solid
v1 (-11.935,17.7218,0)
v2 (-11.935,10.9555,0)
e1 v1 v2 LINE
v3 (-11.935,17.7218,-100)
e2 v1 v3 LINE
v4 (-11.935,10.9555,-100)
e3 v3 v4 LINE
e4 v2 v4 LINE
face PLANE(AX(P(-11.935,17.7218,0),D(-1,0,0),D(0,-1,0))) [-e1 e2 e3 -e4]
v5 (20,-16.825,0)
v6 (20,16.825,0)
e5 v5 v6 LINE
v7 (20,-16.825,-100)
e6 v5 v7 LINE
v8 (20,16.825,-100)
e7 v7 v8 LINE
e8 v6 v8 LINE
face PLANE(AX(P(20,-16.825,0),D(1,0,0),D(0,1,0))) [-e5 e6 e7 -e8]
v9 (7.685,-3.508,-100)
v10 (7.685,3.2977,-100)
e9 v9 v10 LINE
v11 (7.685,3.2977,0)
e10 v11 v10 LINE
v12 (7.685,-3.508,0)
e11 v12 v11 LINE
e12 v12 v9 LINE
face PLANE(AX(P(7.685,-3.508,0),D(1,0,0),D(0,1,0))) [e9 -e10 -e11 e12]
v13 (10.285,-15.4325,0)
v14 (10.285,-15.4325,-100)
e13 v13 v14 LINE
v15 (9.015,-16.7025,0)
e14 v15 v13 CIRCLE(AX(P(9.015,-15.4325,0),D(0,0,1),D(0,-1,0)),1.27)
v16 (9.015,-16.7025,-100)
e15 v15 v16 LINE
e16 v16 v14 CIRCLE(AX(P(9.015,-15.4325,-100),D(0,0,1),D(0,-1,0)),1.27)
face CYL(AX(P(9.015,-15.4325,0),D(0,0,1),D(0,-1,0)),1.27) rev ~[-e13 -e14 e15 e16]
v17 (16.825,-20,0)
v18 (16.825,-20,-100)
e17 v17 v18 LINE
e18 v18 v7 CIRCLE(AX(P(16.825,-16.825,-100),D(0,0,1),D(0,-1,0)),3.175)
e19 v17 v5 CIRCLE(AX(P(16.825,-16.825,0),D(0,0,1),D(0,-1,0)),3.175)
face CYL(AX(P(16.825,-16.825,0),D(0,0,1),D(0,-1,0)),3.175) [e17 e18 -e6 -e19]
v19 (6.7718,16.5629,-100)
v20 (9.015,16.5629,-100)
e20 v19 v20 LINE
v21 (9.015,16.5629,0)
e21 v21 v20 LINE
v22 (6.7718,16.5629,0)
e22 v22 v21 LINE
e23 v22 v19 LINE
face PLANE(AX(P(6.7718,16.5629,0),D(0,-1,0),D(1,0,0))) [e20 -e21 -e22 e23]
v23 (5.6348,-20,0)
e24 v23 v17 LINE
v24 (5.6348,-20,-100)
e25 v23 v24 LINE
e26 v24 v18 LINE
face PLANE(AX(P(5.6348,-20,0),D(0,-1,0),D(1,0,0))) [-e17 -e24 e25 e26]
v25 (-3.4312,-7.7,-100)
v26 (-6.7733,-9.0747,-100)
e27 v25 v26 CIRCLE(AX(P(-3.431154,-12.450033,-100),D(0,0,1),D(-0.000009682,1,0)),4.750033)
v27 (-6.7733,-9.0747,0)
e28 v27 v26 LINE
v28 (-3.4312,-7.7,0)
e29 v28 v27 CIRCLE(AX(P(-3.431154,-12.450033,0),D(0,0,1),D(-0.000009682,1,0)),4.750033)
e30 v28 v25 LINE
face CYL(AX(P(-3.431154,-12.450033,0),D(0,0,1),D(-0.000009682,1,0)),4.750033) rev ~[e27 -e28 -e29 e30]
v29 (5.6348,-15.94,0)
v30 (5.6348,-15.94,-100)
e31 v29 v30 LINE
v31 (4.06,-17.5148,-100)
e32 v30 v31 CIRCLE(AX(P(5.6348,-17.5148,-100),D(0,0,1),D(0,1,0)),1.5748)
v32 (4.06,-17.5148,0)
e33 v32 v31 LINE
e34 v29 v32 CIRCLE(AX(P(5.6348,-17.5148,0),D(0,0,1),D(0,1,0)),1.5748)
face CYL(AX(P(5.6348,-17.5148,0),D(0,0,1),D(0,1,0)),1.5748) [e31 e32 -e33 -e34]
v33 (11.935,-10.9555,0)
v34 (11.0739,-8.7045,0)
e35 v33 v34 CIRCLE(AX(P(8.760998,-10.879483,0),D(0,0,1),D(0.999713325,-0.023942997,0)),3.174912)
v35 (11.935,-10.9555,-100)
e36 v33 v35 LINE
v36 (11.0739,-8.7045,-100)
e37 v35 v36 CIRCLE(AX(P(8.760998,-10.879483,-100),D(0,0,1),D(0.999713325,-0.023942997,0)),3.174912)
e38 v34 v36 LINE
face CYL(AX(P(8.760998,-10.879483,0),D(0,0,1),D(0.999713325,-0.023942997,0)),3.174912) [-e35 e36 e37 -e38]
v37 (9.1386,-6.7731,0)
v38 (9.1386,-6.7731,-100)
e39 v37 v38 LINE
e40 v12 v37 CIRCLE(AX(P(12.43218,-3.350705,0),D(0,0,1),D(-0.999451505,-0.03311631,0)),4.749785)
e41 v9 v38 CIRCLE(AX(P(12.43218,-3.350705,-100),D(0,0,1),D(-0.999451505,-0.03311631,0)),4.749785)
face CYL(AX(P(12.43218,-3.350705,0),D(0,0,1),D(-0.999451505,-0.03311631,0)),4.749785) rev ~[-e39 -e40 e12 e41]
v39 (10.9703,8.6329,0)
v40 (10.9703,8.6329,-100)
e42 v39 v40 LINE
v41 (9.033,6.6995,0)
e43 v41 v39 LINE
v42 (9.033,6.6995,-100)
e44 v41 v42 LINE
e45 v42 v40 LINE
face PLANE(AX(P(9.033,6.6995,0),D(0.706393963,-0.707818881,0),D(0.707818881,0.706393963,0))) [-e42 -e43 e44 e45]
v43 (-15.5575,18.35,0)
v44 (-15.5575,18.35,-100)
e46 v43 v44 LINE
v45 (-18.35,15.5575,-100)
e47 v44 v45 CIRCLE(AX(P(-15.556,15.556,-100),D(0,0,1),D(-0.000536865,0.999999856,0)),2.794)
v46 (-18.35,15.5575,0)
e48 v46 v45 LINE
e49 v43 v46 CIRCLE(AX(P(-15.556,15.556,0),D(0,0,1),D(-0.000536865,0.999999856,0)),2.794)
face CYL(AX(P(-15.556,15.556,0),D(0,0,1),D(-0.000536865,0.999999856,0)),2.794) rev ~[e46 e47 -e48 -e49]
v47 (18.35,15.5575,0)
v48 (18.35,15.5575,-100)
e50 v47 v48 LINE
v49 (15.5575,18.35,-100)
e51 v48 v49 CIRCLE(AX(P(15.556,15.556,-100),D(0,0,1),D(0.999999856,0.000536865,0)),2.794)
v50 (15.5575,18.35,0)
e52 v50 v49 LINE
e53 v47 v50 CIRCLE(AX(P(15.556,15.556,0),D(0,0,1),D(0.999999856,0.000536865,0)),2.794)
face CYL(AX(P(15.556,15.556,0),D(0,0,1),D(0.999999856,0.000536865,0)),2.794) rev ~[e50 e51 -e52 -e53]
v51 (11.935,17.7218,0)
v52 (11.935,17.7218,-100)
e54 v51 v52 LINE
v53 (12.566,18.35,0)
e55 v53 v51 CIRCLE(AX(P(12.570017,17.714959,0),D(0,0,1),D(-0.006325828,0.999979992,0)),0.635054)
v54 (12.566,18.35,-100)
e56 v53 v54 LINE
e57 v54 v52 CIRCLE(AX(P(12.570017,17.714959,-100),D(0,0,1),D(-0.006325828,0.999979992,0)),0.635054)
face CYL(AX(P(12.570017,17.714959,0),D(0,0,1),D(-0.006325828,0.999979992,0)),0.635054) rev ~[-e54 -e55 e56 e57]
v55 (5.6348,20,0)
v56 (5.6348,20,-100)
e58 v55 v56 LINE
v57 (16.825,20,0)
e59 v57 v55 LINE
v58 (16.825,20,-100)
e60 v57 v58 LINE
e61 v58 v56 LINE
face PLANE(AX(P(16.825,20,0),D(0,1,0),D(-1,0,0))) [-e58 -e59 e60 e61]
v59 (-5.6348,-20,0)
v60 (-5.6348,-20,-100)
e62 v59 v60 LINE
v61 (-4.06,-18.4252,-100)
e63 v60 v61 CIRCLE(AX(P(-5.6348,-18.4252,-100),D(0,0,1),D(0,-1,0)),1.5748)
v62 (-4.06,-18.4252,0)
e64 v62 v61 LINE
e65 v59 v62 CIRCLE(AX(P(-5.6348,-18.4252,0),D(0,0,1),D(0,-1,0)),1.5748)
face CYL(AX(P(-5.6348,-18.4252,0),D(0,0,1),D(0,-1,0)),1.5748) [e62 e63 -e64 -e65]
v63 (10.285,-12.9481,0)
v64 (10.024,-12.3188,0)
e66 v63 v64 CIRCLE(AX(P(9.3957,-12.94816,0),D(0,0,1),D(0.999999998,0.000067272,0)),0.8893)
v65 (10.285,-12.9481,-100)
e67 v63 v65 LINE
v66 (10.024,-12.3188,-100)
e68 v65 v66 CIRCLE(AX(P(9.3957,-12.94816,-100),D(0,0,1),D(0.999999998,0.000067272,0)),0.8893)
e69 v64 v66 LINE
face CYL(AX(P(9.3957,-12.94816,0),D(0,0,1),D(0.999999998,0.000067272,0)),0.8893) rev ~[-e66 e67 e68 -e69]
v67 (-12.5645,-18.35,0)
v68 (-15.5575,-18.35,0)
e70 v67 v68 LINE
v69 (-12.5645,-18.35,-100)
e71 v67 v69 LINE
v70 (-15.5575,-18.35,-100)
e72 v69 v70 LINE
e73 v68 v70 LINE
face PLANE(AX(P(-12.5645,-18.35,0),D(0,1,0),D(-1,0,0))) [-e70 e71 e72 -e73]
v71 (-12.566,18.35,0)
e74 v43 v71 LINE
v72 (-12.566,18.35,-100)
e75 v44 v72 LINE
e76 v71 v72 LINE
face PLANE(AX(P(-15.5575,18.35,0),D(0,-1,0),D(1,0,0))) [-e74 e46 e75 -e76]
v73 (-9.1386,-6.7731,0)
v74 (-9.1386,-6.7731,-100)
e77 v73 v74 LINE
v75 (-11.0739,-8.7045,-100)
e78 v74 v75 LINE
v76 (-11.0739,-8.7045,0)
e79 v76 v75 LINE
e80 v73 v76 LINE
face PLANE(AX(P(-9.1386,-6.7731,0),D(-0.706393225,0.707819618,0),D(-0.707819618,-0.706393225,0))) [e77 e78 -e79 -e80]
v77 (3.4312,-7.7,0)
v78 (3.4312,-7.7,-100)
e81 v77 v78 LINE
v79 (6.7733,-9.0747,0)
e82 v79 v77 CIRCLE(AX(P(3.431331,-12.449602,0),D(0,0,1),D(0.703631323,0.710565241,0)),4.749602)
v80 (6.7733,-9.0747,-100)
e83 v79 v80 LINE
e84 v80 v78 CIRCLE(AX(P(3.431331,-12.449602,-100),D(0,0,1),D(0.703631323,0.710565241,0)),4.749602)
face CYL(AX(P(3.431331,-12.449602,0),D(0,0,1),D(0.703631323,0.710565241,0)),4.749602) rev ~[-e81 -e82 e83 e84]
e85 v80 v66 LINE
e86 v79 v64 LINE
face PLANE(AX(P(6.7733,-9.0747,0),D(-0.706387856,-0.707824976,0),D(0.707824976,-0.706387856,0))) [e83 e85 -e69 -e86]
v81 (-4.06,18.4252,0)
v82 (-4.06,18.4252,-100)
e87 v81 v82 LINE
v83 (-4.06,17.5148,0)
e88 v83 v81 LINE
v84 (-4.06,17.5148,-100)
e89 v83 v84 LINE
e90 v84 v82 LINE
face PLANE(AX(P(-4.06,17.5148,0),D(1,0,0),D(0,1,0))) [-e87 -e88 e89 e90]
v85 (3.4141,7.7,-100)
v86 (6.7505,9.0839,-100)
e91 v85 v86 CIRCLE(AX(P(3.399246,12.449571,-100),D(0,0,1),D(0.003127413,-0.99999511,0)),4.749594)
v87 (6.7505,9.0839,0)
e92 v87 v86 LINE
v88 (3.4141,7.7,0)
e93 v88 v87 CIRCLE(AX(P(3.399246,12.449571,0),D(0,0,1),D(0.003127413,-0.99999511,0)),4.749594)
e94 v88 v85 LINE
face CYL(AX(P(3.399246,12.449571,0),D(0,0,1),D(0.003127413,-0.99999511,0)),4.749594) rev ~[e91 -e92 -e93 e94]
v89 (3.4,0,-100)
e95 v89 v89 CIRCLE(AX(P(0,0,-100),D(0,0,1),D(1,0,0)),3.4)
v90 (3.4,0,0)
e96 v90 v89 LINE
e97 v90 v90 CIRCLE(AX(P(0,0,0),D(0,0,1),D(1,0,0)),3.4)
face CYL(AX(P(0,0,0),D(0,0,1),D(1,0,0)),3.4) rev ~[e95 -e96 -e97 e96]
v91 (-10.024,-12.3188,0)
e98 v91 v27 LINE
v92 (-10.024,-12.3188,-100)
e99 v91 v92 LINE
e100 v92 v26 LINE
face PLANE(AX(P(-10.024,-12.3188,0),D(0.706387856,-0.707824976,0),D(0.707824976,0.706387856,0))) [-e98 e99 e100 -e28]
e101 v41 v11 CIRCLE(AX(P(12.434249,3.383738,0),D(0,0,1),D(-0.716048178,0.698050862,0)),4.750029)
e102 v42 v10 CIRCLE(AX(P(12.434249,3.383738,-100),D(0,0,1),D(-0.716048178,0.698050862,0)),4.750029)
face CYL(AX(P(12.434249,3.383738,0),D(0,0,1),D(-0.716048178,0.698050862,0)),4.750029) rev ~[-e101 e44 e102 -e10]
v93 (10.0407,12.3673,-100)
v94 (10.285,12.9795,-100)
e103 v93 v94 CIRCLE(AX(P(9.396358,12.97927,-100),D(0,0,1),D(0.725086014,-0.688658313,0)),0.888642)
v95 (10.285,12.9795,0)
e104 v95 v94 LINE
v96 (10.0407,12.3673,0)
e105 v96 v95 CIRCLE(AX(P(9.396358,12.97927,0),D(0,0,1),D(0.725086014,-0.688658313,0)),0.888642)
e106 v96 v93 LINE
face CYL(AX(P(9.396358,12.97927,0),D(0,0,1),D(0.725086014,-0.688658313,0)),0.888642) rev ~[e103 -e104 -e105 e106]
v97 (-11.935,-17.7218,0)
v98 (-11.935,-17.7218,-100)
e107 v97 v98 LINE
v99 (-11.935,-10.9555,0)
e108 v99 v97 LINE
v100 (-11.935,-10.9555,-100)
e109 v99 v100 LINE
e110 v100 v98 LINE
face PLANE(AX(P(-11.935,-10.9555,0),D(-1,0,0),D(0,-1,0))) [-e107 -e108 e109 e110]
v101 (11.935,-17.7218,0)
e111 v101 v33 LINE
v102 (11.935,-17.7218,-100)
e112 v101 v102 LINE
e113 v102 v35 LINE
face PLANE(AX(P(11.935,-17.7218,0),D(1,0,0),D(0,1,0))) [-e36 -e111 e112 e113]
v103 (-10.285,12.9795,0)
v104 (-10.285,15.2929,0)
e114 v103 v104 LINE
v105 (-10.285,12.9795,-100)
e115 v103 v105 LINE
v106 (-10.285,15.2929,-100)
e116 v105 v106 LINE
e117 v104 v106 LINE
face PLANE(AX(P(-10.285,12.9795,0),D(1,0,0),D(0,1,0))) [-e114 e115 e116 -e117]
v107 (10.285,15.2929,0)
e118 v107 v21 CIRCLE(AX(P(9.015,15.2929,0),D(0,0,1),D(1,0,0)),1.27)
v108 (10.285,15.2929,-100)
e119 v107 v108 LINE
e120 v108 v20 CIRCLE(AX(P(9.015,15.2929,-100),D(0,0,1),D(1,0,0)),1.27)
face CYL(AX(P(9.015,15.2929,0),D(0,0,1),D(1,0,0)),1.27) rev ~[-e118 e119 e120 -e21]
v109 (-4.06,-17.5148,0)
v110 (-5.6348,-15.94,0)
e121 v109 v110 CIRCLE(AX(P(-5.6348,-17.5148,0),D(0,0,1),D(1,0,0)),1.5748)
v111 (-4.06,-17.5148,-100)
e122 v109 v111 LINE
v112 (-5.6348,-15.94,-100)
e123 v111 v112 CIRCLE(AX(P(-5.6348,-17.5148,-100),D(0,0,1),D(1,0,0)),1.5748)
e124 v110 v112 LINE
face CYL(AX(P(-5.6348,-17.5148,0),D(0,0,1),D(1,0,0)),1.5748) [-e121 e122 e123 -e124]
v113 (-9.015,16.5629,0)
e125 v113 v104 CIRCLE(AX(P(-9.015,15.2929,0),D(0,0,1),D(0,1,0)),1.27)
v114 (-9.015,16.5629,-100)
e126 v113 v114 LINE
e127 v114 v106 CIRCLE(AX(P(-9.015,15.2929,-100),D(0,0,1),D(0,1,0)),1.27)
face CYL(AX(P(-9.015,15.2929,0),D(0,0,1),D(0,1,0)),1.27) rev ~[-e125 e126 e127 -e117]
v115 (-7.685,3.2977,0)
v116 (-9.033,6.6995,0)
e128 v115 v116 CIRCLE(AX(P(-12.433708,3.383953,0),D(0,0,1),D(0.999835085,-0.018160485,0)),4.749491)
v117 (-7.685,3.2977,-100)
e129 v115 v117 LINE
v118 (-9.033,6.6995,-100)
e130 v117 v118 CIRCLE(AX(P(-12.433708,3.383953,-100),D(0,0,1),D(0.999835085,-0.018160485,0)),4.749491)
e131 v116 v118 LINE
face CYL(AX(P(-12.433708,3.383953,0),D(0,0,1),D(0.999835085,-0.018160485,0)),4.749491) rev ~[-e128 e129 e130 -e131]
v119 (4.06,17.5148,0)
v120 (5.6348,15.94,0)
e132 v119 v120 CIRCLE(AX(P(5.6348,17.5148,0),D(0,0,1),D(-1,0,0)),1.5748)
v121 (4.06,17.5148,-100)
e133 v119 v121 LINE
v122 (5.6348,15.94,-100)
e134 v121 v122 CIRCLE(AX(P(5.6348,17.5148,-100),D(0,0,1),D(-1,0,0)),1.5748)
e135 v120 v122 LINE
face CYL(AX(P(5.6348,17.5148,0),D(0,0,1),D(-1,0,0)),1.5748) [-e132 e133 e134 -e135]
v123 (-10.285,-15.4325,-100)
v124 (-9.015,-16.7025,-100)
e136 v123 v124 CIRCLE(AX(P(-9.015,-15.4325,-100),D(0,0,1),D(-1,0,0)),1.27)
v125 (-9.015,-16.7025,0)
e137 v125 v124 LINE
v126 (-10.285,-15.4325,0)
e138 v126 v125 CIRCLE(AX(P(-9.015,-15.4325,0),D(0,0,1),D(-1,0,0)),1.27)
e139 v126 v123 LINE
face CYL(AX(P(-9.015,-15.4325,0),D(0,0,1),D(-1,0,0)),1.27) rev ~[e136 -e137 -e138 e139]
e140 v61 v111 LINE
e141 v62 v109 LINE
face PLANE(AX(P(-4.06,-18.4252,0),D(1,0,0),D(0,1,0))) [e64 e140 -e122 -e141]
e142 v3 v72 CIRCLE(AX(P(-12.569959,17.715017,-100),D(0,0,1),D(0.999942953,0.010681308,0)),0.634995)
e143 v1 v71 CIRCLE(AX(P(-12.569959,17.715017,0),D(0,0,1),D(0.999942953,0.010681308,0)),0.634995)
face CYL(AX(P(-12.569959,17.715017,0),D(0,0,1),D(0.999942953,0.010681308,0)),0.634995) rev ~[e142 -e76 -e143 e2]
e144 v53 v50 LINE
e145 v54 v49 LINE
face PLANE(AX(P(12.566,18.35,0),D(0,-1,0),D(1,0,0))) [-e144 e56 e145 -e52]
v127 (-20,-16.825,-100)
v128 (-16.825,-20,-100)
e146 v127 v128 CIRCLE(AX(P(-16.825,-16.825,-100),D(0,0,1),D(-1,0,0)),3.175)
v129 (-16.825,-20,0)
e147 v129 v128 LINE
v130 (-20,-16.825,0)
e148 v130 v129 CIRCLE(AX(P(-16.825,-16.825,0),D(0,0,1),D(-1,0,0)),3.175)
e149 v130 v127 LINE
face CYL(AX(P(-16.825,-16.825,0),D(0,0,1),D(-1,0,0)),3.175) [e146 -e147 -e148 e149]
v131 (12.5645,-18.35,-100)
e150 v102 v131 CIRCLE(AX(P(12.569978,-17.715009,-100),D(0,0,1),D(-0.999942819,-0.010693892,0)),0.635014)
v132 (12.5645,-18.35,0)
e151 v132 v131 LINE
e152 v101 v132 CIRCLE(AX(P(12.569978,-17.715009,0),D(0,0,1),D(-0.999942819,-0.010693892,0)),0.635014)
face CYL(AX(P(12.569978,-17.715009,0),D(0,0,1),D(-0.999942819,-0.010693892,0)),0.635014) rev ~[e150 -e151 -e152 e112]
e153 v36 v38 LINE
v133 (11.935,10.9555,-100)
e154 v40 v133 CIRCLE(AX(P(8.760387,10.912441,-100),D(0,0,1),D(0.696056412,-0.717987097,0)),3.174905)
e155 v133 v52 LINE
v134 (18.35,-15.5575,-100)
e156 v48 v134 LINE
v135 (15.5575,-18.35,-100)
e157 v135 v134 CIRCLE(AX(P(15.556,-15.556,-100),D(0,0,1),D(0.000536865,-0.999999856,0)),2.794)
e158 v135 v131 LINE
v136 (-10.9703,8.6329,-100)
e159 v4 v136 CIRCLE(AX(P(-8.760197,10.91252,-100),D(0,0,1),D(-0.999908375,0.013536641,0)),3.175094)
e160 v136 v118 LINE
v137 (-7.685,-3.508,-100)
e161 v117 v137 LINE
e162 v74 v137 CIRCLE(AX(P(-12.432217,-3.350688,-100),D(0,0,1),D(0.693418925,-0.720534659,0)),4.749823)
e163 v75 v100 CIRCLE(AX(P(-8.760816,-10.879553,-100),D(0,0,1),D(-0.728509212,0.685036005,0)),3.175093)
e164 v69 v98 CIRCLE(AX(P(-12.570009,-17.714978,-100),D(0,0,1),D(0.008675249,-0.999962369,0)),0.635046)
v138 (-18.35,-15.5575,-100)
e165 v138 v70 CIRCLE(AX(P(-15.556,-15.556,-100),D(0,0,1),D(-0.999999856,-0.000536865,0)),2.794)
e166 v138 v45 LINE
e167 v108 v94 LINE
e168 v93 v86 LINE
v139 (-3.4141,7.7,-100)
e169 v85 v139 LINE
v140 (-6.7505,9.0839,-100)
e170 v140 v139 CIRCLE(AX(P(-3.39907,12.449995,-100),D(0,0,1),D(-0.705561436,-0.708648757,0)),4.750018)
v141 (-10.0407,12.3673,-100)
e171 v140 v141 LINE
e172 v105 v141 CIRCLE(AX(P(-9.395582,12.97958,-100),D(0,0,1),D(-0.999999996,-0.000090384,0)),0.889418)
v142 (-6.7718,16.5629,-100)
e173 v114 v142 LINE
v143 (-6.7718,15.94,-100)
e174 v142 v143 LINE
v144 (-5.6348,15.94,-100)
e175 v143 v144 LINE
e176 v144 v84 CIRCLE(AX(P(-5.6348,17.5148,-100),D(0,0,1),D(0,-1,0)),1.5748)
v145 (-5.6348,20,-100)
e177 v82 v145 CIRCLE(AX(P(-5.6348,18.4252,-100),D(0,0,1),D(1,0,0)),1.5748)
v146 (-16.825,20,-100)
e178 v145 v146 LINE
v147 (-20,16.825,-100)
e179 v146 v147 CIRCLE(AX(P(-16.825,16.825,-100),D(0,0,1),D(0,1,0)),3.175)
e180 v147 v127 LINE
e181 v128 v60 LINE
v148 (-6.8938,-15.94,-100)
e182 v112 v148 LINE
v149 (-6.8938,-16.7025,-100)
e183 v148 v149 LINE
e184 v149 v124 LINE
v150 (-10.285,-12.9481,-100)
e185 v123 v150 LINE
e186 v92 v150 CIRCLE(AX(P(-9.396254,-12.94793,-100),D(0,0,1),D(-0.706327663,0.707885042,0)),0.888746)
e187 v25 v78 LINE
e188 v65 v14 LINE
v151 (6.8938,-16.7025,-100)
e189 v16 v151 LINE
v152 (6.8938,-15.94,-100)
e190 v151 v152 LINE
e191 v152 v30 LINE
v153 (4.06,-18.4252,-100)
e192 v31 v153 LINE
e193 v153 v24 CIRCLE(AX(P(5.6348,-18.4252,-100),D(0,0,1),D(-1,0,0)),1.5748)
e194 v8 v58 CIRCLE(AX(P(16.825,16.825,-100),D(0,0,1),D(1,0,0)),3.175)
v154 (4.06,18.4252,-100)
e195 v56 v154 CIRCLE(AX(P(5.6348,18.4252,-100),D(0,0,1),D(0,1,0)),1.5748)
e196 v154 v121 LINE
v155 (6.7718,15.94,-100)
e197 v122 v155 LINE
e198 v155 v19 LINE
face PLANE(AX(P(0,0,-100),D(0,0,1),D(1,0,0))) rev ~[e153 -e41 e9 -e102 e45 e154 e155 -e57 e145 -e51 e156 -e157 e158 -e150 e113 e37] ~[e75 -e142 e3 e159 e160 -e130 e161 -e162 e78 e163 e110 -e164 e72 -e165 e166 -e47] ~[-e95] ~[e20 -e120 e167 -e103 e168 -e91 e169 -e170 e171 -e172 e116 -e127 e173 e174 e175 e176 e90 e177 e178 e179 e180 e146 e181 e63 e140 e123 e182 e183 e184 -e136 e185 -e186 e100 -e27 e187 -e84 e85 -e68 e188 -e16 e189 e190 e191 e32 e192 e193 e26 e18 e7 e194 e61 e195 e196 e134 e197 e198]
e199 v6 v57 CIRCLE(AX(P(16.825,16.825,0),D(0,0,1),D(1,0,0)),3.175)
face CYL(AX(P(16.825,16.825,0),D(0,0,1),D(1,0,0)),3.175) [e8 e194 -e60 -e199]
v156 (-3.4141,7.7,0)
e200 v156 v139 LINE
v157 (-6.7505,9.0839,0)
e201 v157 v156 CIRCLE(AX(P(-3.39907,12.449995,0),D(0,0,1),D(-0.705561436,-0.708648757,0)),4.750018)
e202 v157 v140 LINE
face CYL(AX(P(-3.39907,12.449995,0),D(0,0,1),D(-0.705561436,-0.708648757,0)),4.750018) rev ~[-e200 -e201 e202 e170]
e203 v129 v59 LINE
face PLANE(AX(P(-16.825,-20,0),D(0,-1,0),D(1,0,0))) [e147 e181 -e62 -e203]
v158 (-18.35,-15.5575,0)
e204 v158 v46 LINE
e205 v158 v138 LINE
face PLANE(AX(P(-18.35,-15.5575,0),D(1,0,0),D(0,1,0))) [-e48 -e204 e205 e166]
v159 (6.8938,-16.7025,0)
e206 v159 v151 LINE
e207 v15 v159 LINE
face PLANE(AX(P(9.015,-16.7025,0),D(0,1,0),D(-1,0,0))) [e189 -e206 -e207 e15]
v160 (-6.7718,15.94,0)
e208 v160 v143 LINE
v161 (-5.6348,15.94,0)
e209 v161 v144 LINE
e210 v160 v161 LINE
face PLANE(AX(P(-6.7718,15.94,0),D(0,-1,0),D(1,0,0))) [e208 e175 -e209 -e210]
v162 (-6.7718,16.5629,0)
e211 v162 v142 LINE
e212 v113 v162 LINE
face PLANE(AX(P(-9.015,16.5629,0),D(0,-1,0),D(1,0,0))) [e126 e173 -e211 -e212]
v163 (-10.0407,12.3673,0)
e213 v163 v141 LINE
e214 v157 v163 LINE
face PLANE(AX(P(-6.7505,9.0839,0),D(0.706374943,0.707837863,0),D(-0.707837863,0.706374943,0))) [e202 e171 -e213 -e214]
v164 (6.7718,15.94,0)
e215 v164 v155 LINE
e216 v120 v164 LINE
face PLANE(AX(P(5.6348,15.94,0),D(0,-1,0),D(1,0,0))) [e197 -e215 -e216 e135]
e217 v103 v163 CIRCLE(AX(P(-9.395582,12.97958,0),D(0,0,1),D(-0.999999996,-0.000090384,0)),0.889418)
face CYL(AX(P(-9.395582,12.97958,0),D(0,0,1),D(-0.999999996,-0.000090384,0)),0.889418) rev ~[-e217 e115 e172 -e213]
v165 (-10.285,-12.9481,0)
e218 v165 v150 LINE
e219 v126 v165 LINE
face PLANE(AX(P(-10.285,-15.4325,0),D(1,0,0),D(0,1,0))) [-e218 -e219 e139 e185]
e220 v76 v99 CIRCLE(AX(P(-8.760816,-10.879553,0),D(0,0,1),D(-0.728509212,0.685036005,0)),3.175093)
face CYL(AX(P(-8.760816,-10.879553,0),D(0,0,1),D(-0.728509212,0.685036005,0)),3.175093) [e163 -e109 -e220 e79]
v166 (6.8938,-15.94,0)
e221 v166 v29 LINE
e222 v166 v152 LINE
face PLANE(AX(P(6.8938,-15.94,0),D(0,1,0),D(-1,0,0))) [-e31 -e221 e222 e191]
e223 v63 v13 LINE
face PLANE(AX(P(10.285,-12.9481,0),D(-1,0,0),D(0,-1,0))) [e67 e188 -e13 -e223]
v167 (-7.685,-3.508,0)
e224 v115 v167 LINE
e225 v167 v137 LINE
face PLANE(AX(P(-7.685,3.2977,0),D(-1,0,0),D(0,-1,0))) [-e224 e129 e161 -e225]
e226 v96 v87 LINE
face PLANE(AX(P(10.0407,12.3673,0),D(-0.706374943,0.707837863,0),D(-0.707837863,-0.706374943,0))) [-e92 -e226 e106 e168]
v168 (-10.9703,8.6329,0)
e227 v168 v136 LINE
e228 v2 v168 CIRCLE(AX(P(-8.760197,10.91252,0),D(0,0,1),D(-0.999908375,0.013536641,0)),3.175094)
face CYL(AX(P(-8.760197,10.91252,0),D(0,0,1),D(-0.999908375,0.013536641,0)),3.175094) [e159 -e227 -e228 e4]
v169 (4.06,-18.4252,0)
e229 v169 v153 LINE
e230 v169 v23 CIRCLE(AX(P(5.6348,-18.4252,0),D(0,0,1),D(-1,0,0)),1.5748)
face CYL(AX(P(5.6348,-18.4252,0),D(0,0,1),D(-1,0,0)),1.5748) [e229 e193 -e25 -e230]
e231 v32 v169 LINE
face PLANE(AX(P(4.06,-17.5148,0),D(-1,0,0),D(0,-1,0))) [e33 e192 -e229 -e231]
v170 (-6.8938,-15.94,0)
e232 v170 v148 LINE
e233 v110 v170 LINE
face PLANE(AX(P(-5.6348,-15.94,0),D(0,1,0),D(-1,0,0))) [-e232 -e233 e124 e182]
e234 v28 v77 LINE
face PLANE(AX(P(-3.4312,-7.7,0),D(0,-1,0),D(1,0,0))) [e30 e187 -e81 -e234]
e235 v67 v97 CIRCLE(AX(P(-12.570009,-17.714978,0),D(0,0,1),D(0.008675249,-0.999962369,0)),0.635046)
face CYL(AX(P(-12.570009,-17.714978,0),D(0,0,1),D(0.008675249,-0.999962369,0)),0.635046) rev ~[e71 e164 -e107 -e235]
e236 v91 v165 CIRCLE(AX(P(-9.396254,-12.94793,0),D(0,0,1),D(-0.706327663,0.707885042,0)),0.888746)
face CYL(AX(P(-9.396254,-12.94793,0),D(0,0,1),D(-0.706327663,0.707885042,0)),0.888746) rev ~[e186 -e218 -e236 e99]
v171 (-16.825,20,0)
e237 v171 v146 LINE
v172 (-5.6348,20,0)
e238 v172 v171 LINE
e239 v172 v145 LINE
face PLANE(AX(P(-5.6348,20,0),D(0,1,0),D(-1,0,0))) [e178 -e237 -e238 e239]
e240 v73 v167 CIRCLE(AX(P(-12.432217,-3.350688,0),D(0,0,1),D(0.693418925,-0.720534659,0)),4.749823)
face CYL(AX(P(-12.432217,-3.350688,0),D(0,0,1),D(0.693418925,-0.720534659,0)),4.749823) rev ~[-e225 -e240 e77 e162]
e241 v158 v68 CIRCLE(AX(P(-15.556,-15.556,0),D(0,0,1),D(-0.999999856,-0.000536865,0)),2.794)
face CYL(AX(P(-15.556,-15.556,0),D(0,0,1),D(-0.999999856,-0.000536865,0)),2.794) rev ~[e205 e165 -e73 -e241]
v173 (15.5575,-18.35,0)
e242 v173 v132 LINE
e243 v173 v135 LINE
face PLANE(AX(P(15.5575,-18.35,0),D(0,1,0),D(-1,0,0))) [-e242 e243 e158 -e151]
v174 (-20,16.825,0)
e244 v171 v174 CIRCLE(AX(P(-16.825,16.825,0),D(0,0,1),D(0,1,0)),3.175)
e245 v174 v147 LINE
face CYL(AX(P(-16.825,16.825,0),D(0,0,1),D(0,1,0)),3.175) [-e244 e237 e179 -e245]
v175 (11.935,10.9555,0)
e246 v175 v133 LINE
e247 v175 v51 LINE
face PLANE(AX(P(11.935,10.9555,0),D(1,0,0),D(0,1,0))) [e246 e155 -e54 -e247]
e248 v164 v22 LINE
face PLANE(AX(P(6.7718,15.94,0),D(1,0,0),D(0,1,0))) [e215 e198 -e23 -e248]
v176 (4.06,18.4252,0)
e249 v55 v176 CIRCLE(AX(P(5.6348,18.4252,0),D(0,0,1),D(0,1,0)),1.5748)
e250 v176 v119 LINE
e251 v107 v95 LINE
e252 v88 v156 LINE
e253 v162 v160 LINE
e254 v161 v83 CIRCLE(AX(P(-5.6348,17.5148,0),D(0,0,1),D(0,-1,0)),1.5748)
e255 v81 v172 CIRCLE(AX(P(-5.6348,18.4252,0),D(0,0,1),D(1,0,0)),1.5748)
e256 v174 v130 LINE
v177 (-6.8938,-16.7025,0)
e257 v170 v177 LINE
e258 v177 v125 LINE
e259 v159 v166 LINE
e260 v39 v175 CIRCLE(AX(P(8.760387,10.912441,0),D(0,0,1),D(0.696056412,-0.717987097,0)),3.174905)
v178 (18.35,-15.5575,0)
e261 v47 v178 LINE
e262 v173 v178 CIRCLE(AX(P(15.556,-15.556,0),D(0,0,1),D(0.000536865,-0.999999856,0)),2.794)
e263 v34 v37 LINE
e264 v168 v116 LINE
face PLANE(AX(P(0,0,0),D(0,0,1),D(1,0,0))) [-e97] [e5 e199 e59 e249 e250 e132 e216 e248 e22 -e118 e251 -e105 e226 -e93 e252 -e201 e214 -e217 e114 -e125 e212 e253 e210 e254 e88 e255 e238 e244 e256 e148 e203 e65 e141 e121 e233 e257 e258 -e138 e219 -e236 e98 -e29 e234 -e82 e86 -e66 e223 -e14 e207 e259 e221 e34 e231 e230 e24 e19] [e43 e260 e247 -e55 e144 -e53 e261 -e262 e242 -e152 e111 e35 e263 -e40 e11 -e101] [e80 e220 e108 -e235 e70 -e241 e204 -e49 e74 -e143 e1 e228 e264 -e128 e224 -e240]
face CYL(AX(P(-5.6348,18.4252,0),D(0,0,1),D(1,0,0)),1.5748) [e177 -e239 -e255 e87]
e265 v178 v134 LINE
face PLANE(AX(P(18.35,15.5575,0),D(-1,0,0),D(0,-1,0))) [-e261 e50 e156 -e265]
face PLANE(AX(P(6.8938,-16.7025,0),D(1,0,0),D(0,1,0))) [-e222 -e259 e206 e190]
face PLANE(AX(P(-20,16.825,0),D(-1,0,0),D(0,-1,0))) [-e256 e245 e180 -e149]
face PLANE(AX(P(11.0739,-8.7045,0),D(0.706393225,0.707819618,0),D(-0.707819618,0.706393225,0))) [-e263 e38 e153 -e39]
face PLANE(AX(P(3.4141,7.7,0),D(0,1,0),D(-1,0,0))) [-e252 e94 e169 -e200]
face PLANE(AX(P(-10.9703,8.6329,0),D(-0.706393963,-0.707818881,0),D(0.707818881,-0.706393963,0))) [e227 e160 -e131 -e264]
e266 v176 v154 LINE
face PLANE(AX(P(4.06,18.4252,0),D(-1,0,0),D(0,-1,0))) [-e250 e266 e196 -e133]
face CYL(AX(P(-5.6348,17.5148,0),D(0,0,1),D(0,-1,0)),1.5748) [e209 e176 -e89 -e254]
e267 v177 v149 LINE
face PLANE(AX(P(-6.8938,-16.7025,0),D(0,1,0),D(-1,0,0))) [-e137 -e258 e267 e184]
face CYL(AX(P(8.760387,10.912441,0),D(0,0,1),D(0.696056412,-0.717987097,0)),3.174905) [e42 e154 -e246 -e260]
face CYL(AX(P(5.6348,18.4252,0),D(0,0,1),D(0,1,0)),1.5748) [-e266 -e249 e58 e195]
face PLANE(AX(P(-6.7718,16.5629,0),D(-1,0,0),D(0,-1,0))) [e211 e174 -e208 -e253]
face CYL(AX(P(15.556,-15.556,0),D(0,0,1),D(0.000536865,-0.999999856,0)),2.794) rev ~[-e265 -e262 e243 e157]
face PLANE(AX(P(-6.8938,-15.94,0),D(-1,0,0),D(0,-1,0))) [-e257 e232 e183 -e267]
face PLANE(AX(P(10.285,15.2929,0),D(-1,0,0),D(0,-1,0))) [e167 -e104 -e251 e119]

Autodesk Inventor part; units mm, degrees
ref_plane "YZ Plane" through (0, 0, 0) normal (1, 0, 0) x (0, 1, 0)
ref_plane "XZ Plane" through (0, 0, 0) normal (0, 1, 0) x (-1, 0, 0)
ref_plane "XY Plane" through (0, 0, 0) normal (0, 0, 1) x (1, 0, 0)
sketch "Sketch1" plane through (0, 0, 0) normal (0, 0, 1) x (1, 0, 0)
  line L0 (9.015, -16.7025) -> (6.8938, -16.7025)
  line L1 (6.8938, -16.7025) -> (6.8938, -15.94)
  arc A0 (9.015, -16.7025) -> (10.285, -15.4325) centre (9.015, -15.4325) ccw
  line L2 (6.8938, -15.94) -> (5.6348, -15.94)
  line L3 (10.285, -12.9481) -> (10.285, -15.4325)
  arc A1 (5.6348, -15.94) -> (4.06, -17.5148) centre (5.6348, -17.5148) ccw
  arc A2 (10.285, -12.9481) -> (10.024, -12.3188) centre (9.396, -12.9481) ccw
  line L4 (4.06, -17.5148) -> (4.06, -18.4252)
  line L5 (6.7733, -9.0747) -> (10.024, -12.3188)
  arc A3 (4.06, -18.4252) -> (5.6348, -20) centre (5.6348, -18.4252) ccw
  arc A4 (6.7733, -9.0747) -> (3.4312, -7.7) centre (3.4312, -12.4498) ccw
  line L6 (5.6348, -20) -> (16.825, -20)
  line L7 (-3.4312, -7.7) -> (3.4312, -7.7)
  arc A5 (16.825, -20) -> (20, -16.825) centre (16.825, -16.825) ccw
  arc A6 (-3.4312, -7.7) -> (-6.7733, -9.0747) centre (-3.4312, -12.4498) ccw
  line L8 (20, -16.825) -> (20, 16.825)
  line L9 (-10.024, -12.3188) -> (-6.7733, -9.0747)
  arc A7 (20, 16.825) -> (16.825, 20) centre (16.825, 16.825) ccw
  arc A8 (-10.024, -12.3188) -> (-10.285, -12.9481) centre (-9.396, -12.9481) ccw
  line L10 (16.825, 20) -> (5.6348, 20)
  line L11 (-10.285, -15.4325) -> (-10.285, -12.9481)
  arc A9 (5.6348, 20) -> (4.06, 18.4252) centre (5.6348, 18.4252) ccw
  arc A10 (-10.285, -15.4325) -> (-9.015, -16.7025) centre (-9.015, -15.4325) ccw
  line L12 (4.06, 18.4252) -> (4.06, 17.5148)
  line L13 (-6.8938, -16.7025) -> (-9.015, -16.7025)
  arc A11 (4.06, 17.5148) -> (5.6348, 15.94) centre (5.6348, 17.5148) ccw
  line L14 (-6.8938, -15.94) -> (-6.8938, -16.7025)
  line L15 (5.6348, 15.94) -> (6.7718, 15.94)
  line L16 (-5.6348, -15.94) -> (-6.8938, -15.94)
  line L17 (6.7718, 15.94) -> (6.7718, 16.5629)
  arc A12 (-4.06, -17.5148) -> (-5.6348, -15.94) centre (-5.6348, -17.5148) ccw
  line L18 (6.7718, 16.5629) -> (9.015, 16.5629)
  line L19 (-4.06, -18.4252) -> (-4.06, -17.5148)
  arc A13 (10.285, 15.2929) -> (9.015, 16.5629) centre (9.015, 15.2929) ccw
  arc A14 (-5.6348, -20) -> (-4.06, -18.4252) centre (-5.6348, -18.4252) ccw
  line L20 (10.285, 15.2929) -> (10.285, 12.9795)
  line L21 (-16.825, -20) -> (-5.6348, -20)
  arc A15 (10.0407, 12.3673) -> (10.285, 12.9795) centre (9.396, 12.9795) ccw
  arc A16 (-20, -16.825) -> (-16.825, -20) centre (-16.825, -16.825) ccw
  line L22 (10.0407, 12.3673) -> (6.7505, 9.0839)
  line L23 (-20, 16.825) -> (-20, -16.825)
  arc A17 (3.4141, 7.7) -> (6.7505, 9.0839) centre (3.3992, 12.4498) ccw
  arc A18 (-16.825, 20) -> (-20, 16.825) centre (-16.825, 16.825) ccw
  line L24 (3.4141, 7.7) -> (-3.4141, 7.7)
  line L25 (-5.6348, 20) -> (-16.825, 20)
  arc A19 (-6.7505, 9.0839) -> (-3.4141, 7.7) centre (-3.3992, 12.4498) ccw
  arc A20 (-4.06, 18.4252) -> (-5.6348, 20) centre (-5.6348, 18.4252) ccw
  line L26 (-6.7505, 9.0839) -> (-10.0407, 12.3673)
  line L27 (-4.06, 17.5148) -> (-4.06, 18.4252)
  arc A21 (-10.285, 12.9795) -> (-10.0407, 12.3673) centre (-9.396, 12.9795) ccw
  arc A22 (-5.6348, 15.94) -> (-4.06, 17.5148) centre (-5.6348, 17.5148) ccw
  line L28 (-10.285, 12.9795) -> (-10.285, 15.2929)
  line L29 (-6.7718, 15.94) -> (-5.6348, 15.94)
  arc A23 (-9.015, 16.5629) -> (-10.285, 15.2929) centre (-9.015, 15.2929) ccw
  line L30 (-6.7718, 16.5629) -> (-6.7718, 15.94)
  line L31 (-9.015, 16.5629) -> (-6.7718, 16.5629)
  arc A24 (11.935, -17.7218) -> (12.5645, -18.35) centre (12.57, -17.715) ccw
  line L32 (11.935, -17.7218) -> (11.935, -10.9555)
  line L33 (15.5575, -18.35) -> (12.5645, -18.35)
  arc A25 (11.935, -10.9555) -> (11.0739, -8.7045) centre (8.7609, -10.8795) ccw
  arc A26 (15.5575, -18.35) -> (18.35, -15.5575) centre (15.556, -15.556) ccw
  line L34 (11.0739, -8.7045) -> (9.1386, -6.7731)
  line L35 (18.35, 15.5575) -> (18.35, -15.5575)
  arc A27 (7.685, -3.508) -> (9.1386, -6.7731) centre (12.4322, -3.3507) ccw
  arc A28 (18.35, 15.5575) -> (15.5575, 18.35) centre (15.556, 15.556) ccw
  line L36 (7.685, -3.508) -> (7.685, 3.2977)
  line L37 (12.566, 18.35) -> (15.5575, 18.35)
  arc A29 (9.033, 6.6995) -> (7.685, 3.2977) centre (12.434, 3.3839) ccw
  arc A30 (12.566, 18.35) -> (11.935, 17.7218) centre (12.57, 17.715) ccw
  line L38 (9.033, 6.6995) -> (10.9703, 8.6329)
  line L39 (11.935, 10.9555) -> (11.935, 17.7218)
  arc A31 (10.9703, 8.6329) -> (11.935, 10.9555) centre (8.7603, 10.9125) ccw
  circle A32 centre (0, 0) radius 3.4
  arc A33 (-11.0739, -8.7045) -> (-11.935, -10.9555) centre (-8.7609, -10.8795) ccw
  line L40 (-11.935, -10.9555) -> (-11.935, -17.7218)
  line L41 (-9.1386, -6.7731) -> (-11.0739, -8.7045)
  arc A34 (-12.5645, -18.35) -> (-11.935, -17.7218) centre (-12.57, -17.715) ccw
  arc A35 (-9.1386, -6.7731) -> (-7.685, -3.508) centre (-12.4322, -3.3507) ccw
  line L42 (-12.5645, -18.35) -> (-15.5575, -18.35)
  line L43 (-7.685, 3.2977) -> (-7.685, -3.508)
  arc A36 (-18.35, -15.5575) -> (-15.5575, -18.35) centre (-15.556, -15.556) ccw
  arc A37 (-7.685, 3.2977) -> (-9.033, 6.6995) centre (-12.434, 3.3839) ccw
  line L44 (-18.35, -15.5575) -> (-18.35, 15.5575)
  line L45 (-10.9703, 8.6329) -> (-9.033, 6.6995)
  arc A38 (-15.5575, 18.35) -> (-18.35, 15.5575) centre (-15.556, 15.556) ccw
  arc A39 (-11.935, 10.9555) -> (-10.9703, 8.6329) centre (-8.7603, 10.9125) ccw
  line L46 (-15.5575, 18.35) -> (-12.566, 18.35)
  line L47 (-11.935, 17.7218) -> (-11.935, 10.9555)
  arc A40 (-11.935, 17.7218) -> (-12.566, 18.35) centre (-12.57, 17.715) ccw
extrude "Extrusion1" add sketch "Sketch1" against normal blind 100
properties part number "40-4004-BLACK-FB"
